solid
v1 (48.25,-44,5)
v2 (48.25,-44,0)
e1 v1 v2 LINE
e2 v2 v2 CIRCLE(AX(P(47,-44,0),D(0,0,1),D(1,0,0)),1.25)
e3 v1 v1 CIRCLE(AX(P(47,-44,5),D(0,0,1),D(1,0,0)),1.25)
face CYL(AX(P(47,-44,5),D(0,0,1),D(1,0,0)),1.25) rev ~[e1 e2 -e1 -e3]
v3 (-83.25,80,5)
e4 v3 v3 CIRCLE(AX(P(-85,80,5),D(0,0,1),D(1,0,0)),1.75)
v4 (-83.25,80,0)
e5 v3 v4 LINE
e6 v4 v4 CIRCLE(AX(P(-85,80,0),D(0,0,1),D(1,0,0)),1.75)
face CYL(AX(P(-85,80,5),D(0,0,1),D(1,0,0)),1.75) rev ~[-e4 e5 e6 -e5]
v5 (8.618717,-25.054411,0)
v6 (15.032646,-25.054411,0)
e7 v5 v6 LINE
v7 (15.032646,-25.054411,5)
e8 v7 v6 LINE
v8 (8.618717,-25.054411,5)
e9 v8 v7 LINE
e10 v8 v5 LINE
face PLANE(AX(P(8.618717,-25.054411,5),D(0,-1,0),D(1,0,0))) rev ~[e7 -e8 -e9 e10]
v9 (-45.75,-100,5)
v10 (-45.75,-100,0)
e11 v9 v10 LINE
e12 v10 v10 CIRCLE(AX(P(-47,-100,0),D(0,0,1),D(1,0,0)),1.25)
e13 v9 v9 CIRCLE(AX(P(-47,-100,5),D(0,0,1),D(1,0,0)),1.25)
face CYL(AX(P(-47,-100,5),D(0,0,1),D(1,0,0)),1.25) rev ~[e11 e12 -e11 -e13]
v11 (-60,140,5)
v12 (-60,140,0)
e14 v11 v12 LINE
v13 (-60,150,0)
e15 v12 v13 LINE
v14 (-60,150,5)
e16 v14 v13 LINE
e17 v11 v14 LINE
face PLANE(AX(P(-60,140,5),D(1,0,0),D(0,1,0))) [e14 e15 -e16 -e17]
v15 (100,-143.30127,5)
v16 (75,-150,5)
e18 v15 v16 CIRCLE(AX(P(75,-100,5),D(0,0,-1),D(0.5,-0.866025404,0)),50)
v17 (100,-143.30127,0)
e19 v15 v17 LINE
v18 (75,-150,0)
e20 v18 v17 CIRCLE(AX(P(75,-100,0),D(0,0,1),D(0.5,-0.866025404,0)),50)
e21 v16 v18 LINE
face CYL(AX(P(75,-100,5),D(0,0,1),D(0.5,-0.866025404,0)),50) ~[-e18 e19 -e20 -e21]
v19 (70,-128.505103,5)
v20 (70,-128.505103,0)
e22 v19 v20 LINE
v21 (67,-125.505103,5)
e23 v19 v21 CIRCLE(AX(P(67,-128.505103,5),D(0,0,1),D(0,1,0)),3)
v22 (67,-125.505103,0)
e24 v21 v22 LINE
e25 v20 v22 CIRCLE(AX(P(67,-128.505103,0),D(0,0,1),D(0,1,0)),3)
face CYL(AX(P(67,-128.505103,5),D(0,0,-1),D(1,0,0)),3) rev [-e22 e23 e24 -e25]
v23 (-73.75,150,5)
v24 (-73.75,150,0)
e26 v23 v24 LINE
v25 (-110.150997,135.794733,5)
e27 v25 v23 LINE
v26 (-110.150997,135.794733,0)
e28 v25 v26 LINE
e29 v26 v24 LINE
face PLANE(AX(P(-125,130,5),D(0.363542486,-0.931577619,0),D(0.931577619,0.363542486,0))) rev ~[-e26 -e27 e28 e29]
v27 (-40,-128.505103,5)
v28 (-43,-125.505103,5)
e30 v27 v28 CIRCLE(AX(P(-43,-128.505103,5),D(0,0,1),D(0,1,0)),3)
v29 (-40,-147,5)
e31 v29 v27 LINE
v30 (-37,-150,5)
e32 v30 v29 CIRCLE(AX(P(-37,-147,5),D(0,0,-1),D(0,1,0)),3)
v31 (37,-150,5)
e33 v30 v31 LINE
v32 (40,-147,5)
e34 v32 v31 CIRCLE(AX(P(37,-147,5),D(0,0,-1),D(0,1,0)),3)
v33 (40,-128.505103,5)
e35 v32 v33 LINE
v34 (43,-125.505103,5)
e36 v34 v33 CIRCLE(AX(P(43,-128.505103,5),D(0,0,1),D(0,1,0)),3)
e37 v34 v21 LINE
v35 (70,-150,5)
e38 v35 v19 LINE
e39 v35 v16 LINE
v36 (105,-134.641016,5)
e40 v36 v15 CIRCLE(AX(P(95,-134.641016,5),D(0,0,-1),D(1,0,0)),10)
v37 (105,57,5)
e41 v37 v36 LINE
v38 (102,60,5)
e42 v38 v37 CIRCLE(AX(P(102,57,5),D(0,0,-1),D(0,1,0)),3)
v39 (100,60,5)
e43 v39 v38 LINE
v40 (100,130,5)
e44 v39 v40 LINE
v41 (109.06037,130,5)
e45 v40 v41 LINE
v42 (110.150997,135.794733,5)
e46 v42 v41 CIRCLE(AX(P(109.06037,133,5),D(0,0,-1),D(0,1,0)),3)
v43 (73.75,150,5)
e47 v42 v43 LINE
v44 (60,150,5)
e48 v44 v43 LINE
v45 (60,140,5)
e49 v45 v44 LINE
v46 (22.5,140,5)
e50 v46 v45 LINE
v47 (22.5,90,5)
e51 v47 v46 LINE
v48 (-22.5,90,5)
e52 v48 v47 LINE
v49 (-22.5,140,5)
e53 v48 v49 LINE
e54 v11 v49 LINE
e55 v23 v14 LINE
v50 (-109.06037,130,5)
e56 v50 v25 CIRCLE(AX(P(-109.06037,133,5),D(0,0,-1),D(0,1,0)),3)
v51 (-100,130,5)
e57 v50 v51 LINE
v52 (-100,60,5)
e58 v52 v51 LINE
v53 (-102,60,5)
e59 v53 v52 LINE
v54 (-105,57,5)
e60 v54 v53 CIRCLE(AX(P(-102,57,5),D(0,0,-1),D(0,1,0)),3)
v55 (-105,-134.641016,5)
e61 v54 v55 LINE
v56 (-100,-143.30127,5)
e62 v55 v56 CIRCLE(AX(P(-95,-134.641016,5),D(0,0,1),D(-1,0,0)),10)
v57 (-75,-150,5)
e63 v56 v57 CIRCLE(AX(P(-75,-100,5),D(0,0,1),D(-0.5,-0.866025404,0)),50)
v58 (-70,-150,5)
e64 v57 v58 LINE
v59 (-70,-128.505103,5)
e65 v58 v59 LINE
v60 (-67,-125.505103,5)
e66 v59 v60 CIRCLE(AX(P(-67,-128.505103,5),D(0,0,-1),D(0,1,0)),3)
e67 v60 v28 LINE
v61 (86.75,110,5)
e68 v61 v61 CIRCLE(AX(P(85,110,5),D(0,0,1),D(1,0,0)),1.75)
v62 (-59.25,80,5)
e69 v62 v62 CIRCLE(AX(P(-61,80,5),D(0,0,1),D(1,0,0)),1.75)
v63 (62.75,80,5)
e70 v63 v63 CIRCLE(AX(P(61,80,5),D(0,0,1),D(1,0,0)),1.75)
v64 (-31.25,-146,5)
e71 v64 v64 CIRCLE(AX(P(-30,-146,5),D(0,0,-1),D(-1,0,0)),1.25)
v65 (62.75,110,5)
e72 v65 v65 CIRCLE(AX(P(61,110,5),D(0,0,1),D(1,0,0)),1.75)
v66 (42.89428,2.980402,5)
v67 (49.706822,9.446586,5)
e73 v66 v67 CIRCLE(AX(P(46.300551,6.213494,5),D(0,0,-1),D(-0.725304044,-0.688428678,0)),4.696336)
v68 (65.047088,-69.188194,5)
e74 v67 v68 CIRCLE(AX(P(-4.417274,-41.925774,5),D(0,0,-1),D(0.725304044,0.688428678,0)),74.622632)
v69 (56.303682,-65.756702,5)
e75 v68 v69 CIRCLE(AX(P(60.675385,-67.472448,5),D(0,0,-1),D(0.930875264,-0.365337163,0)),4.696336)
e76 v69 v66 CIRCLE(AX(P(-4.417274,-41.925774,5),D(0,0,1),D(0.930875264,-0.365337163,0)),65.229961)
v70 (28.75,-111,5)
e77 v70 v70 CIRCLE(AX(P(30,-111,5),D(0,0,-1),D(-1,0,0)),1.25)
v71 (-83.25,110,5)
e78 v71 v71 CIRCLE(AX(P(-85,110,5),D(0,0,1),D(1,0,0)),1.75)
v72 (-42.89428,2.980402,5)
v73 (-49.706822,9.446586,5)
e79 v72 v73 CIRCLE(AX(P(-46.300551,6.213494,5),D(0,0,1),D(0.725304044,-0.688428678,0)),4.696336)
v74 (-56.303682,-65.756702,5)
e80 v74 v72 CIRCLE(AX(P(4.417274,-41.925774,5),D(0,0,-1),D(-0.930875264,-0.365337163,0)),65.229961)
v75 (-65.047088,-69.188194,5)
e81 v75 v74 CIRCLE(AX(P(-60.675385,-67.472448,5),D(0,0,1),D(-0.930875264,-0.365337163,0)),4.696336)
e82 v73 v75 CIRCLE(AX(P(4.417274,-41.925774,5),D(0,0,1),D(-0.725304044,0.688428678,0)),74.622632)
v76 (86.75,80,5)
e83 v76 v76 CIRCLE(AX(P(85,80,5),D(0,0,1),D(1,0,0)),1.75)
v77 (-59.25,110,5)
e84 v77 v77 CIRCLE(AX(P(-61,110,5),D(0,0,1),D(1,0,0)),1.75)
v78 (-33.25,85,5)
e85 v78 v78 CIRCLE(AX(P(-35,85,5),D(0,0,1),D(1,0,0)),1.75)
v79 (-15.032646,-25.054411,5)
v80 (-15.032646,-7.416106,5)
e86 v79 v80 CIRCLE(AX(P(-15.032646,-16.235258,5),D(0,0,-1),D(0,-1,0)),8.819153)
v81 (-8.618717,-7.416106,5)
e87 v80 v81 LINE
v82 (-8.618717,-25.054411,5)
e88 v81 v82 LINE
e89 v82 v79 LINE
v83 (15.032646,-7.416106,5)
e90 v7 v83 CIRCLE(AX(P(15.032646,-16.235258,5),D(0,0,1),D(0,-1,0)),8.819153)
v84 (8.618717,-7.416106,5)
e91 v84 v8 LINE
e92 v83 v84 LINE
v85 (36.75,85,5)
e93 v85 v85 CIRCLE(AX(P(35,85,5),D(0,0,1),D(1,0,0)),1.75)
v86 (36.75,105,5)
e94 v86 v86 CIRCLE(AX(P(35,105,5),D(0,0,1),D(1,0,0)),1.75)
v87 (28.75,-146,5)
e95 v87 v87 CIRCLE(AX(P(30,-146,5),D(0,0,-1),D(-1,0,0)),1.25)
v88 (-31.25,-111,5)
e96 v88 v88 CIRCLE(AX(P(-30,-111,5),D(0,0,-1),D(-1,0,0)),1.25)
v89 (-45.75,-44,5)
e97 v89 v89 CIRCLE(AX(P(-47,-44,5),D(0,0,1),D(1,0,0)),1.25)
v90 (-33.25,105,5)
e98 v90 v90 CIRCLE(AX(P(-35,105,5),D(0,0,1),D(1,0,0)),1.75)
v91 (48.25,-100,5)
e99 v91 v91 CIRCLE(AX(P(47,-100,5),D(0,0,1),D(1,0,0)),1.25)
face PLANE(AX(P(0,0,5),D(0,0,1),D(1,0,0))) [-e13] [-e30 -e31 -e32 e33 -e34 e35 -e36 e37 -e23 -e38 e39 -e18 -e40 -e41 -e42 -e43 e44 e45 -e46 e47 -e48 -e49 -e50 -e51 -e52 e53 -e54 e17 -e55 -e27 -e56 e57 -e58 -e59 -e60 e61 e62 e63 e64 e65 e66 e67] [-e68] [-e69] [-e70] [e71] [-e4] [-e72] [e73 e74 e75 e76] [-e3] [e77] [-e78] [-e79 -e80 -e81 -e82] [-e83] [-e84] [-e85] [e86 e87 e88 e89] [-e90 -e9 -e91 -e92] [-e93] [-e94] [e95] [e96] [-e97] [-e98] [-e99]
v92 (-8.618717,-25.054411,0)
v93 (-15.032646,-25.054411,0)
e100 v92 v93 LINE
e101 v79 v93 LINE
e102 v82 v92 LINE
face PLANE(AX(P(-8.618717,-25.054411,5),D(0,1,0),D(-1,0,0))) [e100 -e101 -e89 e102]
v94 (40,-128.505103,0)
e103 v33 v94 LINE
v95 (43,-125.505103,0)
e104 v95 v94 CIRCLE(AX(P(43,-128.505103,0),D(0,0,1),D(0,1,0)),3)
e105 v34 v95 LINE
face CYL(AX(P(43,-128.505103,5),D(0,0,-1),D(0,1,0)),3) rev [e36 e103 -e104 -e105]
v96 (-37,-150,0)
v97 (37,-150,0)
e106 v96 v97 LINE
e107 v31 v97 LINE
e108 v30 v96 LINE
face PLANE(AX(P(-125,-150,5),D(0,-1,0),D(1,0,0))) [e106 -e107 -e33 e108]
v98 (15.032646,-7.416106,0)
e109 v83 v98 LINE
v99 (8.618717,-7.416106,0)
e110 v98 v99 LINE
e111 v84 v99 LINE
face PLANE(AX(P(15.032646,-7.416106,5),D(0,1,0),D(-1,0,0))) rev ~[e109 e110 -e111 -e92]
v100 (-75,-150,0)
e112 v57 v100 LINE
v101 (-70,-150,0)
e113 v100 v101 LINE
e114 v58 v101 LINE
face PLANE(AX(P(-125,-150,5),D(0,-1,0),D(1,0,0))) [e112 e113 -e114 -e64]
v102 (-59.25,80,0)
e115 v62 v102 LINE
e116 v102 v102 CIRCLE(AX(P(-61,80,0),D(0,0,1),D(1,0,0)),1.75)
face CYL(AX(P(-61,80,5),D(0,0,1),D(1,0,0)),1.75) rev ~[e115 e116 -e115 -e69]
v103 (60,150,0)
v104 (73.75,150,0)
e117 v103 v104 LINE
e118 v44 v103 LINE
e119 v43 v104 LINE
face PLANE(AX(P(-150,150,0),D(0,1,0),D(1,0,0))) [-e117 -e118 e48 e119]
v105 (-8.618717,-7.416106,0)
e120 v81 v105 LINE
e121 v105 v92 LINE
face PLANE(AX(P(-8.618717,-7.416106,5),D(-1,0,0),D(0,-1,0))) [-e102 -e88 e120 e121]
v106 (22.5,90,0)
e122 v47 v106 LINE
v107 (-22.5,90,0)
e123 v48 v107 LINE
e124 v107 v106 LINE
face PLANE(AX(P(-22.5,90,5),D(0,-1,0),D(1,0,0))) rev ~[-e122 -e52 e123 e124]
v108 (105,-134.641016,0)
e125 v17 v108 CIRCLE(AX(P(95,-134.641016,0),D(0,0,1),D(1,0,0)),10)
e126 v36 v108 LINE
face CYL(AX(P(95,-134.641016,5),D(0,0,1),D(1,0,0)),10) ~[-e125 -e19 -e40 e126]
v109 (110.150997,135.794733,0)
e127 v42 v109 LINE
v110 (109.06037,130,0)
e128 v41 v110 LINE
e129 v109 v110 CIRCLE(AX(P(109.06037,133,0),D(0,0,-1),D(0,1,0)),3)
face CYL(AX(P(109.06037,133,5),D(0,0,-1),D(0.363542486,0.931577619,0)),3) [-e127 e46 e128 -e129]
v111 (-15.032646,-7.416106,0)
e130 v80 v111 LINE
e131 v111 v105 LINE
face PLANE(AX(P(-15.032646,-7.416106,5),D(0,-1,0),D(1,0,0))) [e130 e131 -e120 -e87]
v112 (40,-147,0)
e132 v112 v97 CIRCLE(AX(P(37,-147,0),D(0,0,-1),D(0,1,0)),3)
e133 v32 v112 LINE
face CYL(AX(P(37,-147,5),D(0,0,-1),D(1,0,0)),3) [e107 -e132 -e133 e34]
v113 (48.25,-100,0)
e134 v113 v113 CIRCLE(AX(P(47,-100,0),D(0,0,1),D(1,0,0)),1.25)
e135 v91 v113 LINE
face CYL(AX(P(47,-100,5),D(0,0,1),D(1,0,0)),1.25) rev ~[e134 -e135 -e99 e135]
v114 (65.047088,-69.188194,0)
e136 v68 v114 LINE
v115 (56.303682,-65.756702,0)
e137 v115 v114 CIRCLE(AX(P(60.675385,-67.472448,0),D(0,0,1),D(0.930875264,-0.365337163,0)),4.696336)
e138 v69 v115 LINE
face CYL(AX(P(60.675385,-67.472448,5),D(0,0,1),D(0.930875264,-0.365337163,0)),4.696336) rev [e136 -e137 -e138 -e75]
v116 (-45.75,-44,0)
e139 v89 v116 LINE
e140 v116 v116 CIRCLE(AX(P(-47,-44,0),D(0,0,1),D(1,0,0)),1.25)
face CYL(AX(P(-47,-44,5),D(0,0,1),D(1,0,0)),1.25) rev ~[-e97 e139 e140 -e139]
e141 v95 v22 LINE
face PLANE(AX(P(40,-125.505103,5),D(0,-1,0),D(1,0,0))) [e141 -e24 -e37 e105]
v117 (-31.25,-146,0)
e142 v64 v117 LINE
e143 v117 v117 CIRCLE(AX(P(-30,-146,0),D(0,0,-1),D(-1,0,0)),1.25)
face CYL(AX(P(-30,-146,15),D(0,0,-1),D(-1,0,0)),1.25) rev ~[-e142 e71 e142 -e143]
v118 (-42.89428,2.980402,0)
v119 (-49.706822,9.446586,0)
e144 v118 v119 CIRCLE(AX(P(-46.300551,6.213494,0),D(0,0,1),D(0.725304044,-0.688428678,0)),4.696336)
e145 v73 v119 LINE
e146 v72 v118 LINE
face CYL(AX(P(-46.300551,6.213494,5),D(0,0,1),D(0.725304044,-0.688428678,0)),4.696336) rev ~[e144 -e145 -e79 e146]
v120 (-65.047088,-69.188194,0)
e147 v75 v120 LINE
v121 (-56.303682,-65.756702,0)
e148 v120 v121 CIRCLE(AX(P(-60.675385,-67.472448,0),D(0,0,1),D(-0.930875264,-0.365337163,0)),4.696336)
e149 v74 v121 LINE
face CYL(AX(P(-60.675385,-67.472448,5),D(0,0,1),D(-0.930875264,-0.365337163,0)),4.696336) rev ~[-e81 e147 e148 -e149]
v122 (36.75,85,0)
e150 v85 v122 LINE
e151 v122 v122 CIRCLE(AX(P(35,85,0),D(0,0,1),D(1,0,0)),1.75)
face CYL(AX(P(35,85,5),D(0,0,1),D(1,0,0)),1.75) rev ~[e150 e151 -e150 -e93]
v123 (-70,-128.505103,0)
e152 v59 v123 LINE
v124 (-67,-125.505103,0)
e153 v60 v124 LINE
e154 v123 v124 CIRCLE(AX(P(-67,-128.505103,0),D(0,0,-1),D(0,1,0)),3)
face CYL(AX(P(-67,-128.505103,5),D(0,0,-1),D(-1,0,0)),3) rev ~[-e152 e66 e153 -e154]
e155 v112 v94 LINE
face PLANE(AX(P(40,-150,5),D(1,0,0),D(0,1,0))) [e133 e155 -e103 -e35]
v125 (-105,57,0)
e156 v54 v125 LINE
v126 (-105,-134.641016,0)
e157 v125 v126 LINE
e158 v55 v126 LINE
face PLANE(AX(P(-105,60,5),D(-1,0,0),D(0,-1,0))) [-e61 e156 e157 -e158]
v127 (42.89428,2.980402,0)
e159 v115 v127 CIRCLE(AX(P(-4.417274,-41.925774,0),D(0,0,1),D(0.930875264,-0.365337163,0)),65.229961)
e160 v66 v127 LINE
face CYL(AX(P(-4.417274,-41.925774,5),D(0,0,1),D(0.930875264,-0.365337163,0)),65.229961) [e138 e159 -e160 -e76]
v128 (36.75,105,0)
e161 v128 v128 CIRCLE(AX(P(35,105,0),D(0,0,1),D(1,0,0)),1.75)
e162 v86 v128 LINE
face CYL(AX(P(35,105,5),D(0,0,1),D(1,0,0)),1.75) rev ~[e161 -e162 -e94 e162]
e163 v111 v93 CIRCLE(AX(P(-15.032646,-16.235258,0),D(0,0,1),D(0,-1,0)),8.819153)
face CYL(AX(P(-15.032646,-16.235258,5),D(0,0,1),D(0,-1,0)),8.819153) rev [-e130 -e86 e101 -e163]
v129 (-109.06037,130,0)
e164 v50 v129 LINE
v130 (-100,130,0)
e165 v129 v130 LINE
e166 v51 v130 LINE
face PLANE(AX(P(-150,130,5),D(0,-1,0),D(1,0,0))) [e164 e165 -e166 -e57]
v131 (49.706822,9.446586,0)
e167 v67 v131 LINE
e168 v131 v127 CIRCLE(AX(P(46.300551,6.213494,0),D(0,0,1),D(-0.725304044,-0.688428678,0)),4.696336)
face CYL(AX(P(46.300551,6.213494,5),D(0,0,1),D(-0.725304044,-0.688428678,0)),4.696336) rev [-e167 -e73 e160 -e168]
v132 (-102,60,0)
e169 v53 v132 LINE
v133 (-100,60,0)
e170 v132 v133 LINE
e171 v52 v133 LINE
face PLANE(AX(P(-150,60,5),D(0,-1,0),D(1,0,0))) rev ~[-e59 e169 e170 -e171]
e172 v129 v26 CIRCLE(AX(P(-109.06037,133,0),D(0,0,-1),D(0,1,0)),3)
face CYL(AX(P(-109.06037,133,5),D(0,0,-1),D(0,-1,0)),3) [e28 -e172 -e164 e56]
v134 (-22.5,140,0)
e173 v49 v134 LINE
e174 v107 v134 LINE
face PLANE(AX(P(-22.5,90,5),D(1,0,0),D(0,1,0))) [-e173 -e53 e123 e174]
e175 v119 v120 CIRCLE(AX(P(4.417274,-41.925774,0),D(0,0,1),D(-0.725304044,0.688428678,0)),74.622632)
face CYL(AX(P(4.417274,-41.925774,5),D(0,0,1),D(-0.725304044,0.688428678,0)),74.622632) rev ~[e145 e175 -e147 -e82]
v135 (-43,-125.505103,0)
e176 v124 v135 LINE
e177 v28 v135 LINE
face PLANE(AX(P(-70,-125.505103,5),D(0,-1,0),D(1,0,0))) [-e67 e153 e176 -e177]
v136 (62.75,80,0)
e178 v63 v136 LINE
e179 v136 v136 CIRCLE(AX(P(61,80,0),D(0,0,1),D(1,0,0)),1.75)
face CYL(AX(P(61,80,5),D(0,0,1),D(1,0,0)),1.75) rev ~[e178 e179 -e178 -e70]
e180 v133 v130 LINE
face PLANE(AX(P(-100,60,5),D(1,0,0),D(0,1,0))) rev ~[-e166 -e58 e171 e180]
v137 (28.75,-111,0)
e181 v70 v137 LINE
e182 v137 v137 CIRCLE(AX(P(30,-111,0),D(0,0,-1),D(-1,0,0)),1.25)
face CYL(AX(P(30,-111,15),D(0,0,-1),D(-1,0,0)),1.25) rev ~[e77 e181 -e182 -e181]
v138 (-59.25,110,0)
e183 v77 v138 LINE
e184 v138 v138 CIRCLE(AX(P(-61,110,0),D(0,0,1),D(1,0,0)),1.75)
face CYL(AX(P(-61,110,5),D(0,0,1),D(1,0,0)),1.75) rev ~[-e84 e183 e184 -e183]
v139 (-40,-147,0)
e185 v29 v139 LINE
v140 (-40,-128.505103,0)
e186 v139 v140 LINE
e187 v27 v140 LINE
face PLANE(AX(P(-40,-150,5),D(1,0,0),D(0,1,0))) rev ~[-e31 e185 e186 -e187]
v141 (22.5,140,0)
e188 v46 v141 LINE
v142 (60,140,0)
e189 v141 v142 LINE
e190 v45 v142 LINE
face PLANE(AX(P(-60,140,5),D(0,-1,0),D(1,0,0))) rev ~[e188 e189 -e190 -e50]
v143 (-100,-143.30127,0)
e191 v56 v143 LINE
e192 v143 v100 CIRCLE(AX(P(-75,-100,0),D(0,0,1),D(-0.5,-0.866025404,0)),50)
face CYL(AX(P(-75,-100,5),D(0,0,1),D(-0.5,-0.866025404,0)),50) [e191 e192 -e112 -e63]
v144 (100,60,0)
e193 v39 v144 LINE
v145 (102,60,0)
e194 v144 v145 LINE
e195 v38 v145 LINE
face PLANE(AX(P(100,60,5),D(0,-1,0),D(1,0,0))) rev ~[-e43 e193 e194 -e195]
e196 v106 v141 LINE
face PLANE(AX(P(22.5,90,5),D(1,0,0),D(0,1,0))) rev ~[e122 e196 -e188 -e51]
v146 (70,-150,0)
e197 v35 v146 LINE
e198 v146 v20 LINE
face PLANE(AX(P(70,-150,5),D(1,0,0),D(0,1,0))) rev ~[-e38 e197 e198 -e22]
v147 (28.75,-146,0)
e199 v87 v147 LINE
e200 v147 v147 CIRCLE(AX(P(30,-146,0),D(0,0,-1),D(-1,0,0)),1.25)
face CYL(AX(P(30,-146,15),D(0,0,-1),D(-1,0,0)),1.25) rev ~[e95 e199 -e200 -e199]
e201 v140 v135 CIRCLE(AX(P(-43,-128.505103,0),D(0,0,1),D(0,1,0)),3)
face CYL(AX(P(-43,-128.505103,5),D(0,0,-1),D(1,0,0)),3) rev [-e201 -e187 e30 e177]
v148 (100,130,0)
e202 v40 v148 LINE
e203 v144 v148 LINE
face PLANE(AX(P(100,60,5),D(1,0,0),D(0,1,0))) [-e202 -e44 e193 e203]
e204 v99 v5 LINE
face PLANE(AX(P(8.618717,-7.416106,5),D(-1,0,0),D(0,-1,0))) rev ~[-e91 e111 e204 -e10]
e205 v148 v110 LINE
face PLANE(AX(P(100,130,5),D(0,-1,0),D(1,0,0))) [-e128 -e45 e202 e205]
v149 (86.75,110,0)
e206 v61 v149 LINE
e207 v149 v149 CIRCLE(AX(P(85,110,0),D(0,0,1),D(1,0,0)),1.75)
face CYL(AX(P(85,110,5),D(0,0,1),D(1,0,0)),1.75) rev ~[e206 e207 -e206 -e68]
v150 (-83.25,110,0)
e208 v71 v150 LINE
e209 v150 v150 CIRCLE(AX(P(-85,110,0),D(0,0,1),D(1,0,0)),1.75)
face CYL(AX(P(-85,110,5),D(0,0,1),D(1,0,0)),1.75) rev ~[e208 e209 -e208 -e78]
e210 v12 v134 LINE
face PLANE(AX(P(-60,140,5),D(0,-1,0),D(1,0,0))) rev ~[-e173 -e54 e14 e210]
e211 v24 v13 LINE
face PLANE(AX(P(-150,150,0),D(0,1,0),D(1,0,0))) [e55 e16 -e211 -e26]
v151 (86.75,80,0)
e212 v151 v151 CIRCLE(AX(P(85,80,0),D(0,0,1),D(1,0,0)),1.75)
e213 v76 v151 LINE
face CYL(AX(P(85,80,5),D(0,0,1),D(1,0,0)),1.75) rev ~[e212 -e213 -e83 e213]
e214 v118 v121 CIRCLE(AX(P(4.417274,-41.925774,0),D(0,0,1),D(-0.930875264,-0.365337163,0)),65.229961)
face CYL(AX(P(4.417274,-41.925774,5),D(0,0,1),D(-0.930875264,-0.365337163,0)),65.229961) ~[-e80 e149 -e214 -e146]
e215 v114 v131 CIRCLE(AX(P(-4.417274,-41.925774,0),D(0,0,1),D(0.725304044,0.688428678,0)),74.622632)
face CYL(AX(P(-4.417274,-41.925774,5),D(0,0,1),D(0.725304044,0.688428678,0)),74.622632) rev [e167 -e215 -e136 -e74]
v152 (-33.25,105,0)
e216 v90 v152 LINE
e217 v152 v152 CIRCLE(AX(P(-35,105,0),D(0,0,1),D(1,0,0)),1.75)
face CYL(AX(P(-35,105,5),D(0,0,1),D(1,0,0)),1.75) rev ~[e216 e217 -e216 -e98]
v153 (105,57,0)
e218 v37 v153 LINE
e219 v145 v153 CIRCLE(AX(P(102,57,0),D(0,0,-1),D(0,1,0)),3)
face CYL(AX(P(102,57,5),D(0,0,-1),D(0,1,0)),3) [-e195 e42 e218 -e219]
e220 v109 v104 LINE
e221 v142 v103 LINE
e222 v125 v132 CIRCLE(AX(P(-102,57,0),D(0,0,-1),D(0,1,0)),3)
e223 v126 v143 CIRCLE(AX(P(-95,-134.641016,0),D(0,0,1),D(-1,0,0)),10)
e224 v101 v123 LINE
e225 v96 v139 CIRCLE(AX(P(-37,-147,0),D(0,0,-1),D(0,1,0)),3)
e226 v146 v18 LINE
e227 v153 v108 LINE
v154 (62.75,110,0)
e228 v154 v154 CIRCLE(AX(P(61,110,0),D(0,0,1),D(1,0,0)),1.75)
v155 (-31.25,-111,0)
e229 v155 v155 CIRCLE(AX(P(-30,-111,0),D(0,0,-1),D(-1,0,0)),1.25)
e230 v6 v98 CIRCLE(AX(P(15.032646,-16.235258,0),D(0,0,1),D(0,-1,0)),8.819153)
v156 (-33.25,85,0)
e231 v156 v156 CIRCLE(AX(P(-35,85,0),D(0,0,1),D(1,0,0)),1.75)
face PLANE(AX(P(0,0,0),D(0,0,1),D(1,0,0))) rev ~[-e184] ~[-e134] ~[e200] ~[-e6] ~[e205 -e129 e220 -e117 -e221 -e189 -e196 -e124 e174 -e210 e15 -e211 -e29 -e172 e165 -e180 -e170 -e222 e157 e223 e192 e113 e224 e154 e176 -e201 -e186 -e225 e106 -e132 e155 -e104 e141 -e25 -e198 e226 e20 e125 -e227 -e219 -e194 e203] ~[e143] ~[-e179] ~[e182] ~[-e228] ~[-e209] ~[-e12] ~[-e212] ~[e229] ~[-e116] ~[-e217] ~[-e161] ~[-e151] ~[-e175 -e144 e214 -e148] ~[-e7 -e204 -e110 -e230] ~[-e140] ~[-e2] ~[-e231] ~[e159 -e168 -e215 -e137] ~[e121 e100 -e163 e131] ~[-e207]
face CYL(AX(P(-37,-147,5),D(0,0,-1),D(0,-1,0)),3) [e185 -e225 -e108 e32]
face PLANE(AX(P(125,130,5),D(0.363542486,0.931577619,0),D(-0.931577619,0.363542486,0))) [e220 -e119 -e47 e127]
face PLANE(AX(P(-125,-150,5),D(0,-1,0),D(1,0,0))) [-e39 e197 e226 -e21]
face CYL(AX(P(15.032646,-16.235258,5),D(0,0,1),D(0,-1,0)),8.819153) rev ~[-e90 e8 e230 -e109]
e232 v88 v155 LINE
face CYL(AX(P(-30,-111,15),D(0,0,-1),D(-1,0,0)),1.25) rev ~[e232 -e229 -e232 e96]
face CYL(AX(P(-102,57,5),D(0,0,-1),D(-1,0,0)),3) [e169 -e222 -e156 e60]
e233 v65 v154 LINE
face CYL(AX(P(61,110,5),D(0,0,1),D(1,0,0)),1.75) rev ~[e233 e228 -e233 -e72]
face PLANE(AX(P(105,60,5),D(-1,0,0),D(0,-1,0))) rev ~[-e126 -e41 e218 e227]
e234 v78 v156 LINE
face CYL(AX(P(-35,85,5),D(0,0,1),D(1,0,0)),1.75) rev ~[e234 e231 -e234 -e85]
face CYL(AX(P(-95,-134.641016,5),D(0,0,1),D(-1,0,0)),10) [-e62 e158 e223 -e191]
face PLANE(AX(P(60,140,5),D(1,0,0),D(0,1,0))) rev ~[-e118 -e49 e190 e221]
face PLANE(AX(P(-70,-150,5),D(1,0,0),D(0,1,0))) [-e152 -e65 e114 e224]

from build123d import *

# Parameters (mm, degrees)
SKETCH_1_W             = 300
SKETCH_1_H             = 300
EXTRUDE_2_DEPTH        = 5
SKETCH_4_W             = 45
SKETCH_4_H             = 60
CUT_EXTRUDE_3_DEPTH    = 5
SKETCH_5_OUTSIDE_W     = 386.858
SKETCH_5_OUTSIDE_H     = 386.858
SKETCH_5_OUTSIDE_W_2   = 250
SKETCH_5_OUTSIDE_H_2   = 300
CUT_EXTRUDE_4_DEPTH    = 5
SKETCH_6_R             = 1.75
SKETCH_6_R_2           = 1.25
CUT_EXTRUDE_5_DEPTH    = 5
SKETCH_7_W             = 50
SKETCH_7_H             = 70
CUT_EXTRUDE_6_DEPTH    = 10
SKETCH_8_W             = 30
SKETCH_8_H             = 24.494897428
SKETCH_8_W_2           = 120
SKETCH_8_H_2           = 10
CUT_EXTRUDE_7_DEPTH    = 10
FILLET_1_R             = 3
HOLE_WIZARD_M3_1_D     = 2.5
HOLE_WIZARD_M3_1_DEPTH = 10
HOLE_WIZARD_M3_1_TIP   = 0.751075774


with BuildPart() as part:
    # 草图1 → 凸台-拉伸2 (new body)
    with BuildSketch(Plane.XY):
        Rectangle(SKETCH_1_W, SKETCH_1_H)
    extrude(amount=EXTRUDE_2_DEPTH)

    # 草图4 → 切除-拉伸3 (cut)
    with BuildSketch(Plane.XY.offset(5)):
        with Locations((0, 120)):
            Rectangle(SKETCH_4_W, SKETCH_4_H)
    extrude(amount=-CUT_EXTRUDE_3_DEPTH, mode=Mode.SUBTRACT)

    # 草图5 outside → 切除-拉伸4 (cut)
    with BuildSketch(Plane.XY.offset(5)):
        Rectangle(SKETCH_5_OUTSIDE_W, SKETCH_5_OUTSIDE_H)
        Rectangle(SKETCH_5_OUTSIDE_W_2, SKETCH_5_OUTSIDE_H_2, mode=Mode.SUBTRACT)
    extrude(amount=-CUT_EXTRUDE_4_DEPTH, mode=Mode.SUBTRACT)

    # 草图6 → 切除-拉伸5 (cut)
    with BuildSketch(Plane.XY.offset(5)):
        with Locations((-85, 110)):
            Circle(SKETCH_6_R)
        with Locations((-61, 110)):
            Circle(SKETCH_6_R)
        with Locations((-61, 80)):
            Circle(SKETCH_6_R)
        with Locations((-85, 80)):
            Circle(SKETCH_6_R)
        with Locations((85, 80)):
            Circle(SKETCH_6_R)
        with Locations((61, 80)):
            Circle(SKETCH_6_R)
        with Locations((61, 110)):
            Circle(SKETCH_6_R)
        with Locations((85, 110)):
            Circle(SKETCH_6_R)
        with Locations((-47, -100)):
            Circle(SKETCH_6_R_2)
        with Locations((-47, -44)):
            Circle(SKETCH_6_R_2)
        with Locations((47, -44)):
            Circle(SKETCH_6_R_2)
        with Locations((47, -100)):
            Circle(SKETCH_6_R_2)
        with Locations((-35, 105)):
            Circle(SKETCH_6_R)
        with Locations((-35, 85)):
            Circle(SKETCH_6_R)
        with Locations((35, 85)):
            Circle(SKETCH_6_R)
        with Locations((35, 105)):
            Circle(SKETCH_6_R)
    extrude(amount=-CUT_EXTRUDE_5_DEPTH, mode=Mode.SUBTRACT)

    # 草图7 → 切除-拉伸6 (cut)
    with BuildSketch(Plane.XY.offset(5)):
        with Locations((-125, 95)):
            Rectangle(SKETCH_7_W, SKETCH_7_H)
        with Locations((125, 95)):
            Rectangle(SKETCH_7_W, SKETCH_7_H)
    extrude(amount=-CUT_EXTRUDE_6_DEPTH, mode=Mode.SUBTRACT)

    # 草图8 → 切除-拉伸7 (cut)
    with BuildSketch(Plane.XY.offset(5)):
        Polygon((-125, 130), (-73.75, 150), (-125, 150), align=None)
        Polygon((125, 130), (73.75, 150), (125, 150), align=None)
        with BuildLine():
            Line((75, -150), (125, -150))
            Line((125, -150), (125, 60))
            Line((125, 60), (105, 60))
            Line((105, 60), (105, -134.641016151))
            ThreePointArc((105, -134.641016151), (103.660254038, -139.641016151), (100, -143.301270189))
            ThreePointArc((100, -143.301270189), (87.940952255, -148.296291314), (75, -150))
        make_face()
        with Locations((-55, -137.752551286)):
            Rectangle(SKETCH_8_W, SKETCH_8_H)
        with Locations((55, -137.752551286)):
            Rectangle(SKETCH_8_W, SKETCH_8_H)
        with Locations((0, 145)):
            Rectangle(SKETCH_8_W_2, SKETCH_8_H_2)
        with BuildLine():
            Line((-105, 60), (-105, -134.641016151))
            ThreePointArc((-105, -134.641016151), (-103.660254038, -139.641016151), (-100, -143.301270189))
            ThreePointArc((-100, -143.301270189), (-87.940952255, -148.296291314), (-75, -150))
            Line((-75, -150), (-125, -150))
            Line((-125, -150), (-125, 60))
            Line((-125, 60), (-105, 60))
        make_face()
        with BuildLine():
            Line((-15.032646415, -7.416105565), (-8.618717278, -7.416105565))
            Line((-8.618717278, -7.416105565), (-8.618717278, -25.054410692))
            Line((-8.618717278, -25.054410692), (-15.032646415, -25.054410692))
            ThreePointArc((-15.032646415, -25.054410692), (-23.851798978, -16.235258128), (-15.032646415, -7.416105565))
        make_face()
        with BuildLine():
            Line((8.618717278, -25.054410692), (15.032646415, -25.054410692))
            ThreePointArc((15.032646415, -25.054410692), (23.851798978, -16.235258128), (15.032646415, -7.416105565))
            Line((15.032646415, -7.416105565), (8.618717278, -7.416105565))
            Line((8.618717278, -7.416105565), (8.618717278, -25.054410692))
        make_face()
        with BuildLine():
            ThreePointArc((-49.706822203, 9.446585999), (-68.824680462, -27.637553869), (-65.047087709, -69.188194384))
            ThreePointArc((-65.047087709, -69.188194384), (-58.959639066, -71.844151136), (-56.303682313, -65.756702493))
            ThreePointArc((-56.303682313, -65.756702493), (-59.605793483, -29.435996915), (-42.894279713, 2.980401704))
            ThreePointArc((-42.894279713, 2.980401704), (-43.06745881, 9.619765097), (-49.706822203, 9.446585999))
        make_face()
        with BuildLine():
            ThreePointArc((49.706822203, 9.446585999), (68.824680462, -27.637553869), (65.047087709, -69.188194384))
            ThreePointArc((65.047087709, -69.188194384), (58.959639066, -71.844151136), (56.303682313, -65.756702493))
            ThreePointArc((56.303682313, -65.756702493), (59.605793483, -29.435996915), (42.894279713, 2.980401704))
            ThreePointArc((42.894279713, 2.980401704), (43.06745881, 9.619765097), (49.706822203, 9.446585999))
        make_face()
    extrude(amount=-CUT_EXTRUDE_7_DEPTH, mode=Mode.SUBTRACT)

    # 圆角1
    fillet_1_edges = [part.edges().sort_by_distance(p)[0] for p in [
        (125, 130, 2.5),
        (-125, 130, 2.5),
        (-105, 60, 2.5),
        (105, 60, 2.5),
        (-40, -125.505102572, 2.5),
        (-40, -150, 2.5),
        (-70, -125.505102572, 2.5),
        (40, -150, 2.5),
        (40, -125.505102572, 2.5),
        (70, -125.505102572, 2.5),
    ]]
    fillet(fillet_1_edges, radius=FILLET_1_R)

    # M3 螺纹孔1
    with Locations(Plane.XY.offset(5)):
        with Locations((-30, -146), (30, -146), (30, -111), (-30, -111)):
            Hole(HOLE_WIZARD_M3_1_D / 2, depth=HOLE_WIZARD_M3_1_DEPTH)
            with Locations((0, 0, -(HOLE_WIZARD_M3_1_DEPTH + HOLE_WIZARD_M3_1_TIP / 2))):  # 118° drill point
                Cone(0, HOLE_WIZARD_M3_1_D / 2, HOLE_WIZARD_M3_1_TIP, mode=Mode.SUBTRACT)


solid = part.part
